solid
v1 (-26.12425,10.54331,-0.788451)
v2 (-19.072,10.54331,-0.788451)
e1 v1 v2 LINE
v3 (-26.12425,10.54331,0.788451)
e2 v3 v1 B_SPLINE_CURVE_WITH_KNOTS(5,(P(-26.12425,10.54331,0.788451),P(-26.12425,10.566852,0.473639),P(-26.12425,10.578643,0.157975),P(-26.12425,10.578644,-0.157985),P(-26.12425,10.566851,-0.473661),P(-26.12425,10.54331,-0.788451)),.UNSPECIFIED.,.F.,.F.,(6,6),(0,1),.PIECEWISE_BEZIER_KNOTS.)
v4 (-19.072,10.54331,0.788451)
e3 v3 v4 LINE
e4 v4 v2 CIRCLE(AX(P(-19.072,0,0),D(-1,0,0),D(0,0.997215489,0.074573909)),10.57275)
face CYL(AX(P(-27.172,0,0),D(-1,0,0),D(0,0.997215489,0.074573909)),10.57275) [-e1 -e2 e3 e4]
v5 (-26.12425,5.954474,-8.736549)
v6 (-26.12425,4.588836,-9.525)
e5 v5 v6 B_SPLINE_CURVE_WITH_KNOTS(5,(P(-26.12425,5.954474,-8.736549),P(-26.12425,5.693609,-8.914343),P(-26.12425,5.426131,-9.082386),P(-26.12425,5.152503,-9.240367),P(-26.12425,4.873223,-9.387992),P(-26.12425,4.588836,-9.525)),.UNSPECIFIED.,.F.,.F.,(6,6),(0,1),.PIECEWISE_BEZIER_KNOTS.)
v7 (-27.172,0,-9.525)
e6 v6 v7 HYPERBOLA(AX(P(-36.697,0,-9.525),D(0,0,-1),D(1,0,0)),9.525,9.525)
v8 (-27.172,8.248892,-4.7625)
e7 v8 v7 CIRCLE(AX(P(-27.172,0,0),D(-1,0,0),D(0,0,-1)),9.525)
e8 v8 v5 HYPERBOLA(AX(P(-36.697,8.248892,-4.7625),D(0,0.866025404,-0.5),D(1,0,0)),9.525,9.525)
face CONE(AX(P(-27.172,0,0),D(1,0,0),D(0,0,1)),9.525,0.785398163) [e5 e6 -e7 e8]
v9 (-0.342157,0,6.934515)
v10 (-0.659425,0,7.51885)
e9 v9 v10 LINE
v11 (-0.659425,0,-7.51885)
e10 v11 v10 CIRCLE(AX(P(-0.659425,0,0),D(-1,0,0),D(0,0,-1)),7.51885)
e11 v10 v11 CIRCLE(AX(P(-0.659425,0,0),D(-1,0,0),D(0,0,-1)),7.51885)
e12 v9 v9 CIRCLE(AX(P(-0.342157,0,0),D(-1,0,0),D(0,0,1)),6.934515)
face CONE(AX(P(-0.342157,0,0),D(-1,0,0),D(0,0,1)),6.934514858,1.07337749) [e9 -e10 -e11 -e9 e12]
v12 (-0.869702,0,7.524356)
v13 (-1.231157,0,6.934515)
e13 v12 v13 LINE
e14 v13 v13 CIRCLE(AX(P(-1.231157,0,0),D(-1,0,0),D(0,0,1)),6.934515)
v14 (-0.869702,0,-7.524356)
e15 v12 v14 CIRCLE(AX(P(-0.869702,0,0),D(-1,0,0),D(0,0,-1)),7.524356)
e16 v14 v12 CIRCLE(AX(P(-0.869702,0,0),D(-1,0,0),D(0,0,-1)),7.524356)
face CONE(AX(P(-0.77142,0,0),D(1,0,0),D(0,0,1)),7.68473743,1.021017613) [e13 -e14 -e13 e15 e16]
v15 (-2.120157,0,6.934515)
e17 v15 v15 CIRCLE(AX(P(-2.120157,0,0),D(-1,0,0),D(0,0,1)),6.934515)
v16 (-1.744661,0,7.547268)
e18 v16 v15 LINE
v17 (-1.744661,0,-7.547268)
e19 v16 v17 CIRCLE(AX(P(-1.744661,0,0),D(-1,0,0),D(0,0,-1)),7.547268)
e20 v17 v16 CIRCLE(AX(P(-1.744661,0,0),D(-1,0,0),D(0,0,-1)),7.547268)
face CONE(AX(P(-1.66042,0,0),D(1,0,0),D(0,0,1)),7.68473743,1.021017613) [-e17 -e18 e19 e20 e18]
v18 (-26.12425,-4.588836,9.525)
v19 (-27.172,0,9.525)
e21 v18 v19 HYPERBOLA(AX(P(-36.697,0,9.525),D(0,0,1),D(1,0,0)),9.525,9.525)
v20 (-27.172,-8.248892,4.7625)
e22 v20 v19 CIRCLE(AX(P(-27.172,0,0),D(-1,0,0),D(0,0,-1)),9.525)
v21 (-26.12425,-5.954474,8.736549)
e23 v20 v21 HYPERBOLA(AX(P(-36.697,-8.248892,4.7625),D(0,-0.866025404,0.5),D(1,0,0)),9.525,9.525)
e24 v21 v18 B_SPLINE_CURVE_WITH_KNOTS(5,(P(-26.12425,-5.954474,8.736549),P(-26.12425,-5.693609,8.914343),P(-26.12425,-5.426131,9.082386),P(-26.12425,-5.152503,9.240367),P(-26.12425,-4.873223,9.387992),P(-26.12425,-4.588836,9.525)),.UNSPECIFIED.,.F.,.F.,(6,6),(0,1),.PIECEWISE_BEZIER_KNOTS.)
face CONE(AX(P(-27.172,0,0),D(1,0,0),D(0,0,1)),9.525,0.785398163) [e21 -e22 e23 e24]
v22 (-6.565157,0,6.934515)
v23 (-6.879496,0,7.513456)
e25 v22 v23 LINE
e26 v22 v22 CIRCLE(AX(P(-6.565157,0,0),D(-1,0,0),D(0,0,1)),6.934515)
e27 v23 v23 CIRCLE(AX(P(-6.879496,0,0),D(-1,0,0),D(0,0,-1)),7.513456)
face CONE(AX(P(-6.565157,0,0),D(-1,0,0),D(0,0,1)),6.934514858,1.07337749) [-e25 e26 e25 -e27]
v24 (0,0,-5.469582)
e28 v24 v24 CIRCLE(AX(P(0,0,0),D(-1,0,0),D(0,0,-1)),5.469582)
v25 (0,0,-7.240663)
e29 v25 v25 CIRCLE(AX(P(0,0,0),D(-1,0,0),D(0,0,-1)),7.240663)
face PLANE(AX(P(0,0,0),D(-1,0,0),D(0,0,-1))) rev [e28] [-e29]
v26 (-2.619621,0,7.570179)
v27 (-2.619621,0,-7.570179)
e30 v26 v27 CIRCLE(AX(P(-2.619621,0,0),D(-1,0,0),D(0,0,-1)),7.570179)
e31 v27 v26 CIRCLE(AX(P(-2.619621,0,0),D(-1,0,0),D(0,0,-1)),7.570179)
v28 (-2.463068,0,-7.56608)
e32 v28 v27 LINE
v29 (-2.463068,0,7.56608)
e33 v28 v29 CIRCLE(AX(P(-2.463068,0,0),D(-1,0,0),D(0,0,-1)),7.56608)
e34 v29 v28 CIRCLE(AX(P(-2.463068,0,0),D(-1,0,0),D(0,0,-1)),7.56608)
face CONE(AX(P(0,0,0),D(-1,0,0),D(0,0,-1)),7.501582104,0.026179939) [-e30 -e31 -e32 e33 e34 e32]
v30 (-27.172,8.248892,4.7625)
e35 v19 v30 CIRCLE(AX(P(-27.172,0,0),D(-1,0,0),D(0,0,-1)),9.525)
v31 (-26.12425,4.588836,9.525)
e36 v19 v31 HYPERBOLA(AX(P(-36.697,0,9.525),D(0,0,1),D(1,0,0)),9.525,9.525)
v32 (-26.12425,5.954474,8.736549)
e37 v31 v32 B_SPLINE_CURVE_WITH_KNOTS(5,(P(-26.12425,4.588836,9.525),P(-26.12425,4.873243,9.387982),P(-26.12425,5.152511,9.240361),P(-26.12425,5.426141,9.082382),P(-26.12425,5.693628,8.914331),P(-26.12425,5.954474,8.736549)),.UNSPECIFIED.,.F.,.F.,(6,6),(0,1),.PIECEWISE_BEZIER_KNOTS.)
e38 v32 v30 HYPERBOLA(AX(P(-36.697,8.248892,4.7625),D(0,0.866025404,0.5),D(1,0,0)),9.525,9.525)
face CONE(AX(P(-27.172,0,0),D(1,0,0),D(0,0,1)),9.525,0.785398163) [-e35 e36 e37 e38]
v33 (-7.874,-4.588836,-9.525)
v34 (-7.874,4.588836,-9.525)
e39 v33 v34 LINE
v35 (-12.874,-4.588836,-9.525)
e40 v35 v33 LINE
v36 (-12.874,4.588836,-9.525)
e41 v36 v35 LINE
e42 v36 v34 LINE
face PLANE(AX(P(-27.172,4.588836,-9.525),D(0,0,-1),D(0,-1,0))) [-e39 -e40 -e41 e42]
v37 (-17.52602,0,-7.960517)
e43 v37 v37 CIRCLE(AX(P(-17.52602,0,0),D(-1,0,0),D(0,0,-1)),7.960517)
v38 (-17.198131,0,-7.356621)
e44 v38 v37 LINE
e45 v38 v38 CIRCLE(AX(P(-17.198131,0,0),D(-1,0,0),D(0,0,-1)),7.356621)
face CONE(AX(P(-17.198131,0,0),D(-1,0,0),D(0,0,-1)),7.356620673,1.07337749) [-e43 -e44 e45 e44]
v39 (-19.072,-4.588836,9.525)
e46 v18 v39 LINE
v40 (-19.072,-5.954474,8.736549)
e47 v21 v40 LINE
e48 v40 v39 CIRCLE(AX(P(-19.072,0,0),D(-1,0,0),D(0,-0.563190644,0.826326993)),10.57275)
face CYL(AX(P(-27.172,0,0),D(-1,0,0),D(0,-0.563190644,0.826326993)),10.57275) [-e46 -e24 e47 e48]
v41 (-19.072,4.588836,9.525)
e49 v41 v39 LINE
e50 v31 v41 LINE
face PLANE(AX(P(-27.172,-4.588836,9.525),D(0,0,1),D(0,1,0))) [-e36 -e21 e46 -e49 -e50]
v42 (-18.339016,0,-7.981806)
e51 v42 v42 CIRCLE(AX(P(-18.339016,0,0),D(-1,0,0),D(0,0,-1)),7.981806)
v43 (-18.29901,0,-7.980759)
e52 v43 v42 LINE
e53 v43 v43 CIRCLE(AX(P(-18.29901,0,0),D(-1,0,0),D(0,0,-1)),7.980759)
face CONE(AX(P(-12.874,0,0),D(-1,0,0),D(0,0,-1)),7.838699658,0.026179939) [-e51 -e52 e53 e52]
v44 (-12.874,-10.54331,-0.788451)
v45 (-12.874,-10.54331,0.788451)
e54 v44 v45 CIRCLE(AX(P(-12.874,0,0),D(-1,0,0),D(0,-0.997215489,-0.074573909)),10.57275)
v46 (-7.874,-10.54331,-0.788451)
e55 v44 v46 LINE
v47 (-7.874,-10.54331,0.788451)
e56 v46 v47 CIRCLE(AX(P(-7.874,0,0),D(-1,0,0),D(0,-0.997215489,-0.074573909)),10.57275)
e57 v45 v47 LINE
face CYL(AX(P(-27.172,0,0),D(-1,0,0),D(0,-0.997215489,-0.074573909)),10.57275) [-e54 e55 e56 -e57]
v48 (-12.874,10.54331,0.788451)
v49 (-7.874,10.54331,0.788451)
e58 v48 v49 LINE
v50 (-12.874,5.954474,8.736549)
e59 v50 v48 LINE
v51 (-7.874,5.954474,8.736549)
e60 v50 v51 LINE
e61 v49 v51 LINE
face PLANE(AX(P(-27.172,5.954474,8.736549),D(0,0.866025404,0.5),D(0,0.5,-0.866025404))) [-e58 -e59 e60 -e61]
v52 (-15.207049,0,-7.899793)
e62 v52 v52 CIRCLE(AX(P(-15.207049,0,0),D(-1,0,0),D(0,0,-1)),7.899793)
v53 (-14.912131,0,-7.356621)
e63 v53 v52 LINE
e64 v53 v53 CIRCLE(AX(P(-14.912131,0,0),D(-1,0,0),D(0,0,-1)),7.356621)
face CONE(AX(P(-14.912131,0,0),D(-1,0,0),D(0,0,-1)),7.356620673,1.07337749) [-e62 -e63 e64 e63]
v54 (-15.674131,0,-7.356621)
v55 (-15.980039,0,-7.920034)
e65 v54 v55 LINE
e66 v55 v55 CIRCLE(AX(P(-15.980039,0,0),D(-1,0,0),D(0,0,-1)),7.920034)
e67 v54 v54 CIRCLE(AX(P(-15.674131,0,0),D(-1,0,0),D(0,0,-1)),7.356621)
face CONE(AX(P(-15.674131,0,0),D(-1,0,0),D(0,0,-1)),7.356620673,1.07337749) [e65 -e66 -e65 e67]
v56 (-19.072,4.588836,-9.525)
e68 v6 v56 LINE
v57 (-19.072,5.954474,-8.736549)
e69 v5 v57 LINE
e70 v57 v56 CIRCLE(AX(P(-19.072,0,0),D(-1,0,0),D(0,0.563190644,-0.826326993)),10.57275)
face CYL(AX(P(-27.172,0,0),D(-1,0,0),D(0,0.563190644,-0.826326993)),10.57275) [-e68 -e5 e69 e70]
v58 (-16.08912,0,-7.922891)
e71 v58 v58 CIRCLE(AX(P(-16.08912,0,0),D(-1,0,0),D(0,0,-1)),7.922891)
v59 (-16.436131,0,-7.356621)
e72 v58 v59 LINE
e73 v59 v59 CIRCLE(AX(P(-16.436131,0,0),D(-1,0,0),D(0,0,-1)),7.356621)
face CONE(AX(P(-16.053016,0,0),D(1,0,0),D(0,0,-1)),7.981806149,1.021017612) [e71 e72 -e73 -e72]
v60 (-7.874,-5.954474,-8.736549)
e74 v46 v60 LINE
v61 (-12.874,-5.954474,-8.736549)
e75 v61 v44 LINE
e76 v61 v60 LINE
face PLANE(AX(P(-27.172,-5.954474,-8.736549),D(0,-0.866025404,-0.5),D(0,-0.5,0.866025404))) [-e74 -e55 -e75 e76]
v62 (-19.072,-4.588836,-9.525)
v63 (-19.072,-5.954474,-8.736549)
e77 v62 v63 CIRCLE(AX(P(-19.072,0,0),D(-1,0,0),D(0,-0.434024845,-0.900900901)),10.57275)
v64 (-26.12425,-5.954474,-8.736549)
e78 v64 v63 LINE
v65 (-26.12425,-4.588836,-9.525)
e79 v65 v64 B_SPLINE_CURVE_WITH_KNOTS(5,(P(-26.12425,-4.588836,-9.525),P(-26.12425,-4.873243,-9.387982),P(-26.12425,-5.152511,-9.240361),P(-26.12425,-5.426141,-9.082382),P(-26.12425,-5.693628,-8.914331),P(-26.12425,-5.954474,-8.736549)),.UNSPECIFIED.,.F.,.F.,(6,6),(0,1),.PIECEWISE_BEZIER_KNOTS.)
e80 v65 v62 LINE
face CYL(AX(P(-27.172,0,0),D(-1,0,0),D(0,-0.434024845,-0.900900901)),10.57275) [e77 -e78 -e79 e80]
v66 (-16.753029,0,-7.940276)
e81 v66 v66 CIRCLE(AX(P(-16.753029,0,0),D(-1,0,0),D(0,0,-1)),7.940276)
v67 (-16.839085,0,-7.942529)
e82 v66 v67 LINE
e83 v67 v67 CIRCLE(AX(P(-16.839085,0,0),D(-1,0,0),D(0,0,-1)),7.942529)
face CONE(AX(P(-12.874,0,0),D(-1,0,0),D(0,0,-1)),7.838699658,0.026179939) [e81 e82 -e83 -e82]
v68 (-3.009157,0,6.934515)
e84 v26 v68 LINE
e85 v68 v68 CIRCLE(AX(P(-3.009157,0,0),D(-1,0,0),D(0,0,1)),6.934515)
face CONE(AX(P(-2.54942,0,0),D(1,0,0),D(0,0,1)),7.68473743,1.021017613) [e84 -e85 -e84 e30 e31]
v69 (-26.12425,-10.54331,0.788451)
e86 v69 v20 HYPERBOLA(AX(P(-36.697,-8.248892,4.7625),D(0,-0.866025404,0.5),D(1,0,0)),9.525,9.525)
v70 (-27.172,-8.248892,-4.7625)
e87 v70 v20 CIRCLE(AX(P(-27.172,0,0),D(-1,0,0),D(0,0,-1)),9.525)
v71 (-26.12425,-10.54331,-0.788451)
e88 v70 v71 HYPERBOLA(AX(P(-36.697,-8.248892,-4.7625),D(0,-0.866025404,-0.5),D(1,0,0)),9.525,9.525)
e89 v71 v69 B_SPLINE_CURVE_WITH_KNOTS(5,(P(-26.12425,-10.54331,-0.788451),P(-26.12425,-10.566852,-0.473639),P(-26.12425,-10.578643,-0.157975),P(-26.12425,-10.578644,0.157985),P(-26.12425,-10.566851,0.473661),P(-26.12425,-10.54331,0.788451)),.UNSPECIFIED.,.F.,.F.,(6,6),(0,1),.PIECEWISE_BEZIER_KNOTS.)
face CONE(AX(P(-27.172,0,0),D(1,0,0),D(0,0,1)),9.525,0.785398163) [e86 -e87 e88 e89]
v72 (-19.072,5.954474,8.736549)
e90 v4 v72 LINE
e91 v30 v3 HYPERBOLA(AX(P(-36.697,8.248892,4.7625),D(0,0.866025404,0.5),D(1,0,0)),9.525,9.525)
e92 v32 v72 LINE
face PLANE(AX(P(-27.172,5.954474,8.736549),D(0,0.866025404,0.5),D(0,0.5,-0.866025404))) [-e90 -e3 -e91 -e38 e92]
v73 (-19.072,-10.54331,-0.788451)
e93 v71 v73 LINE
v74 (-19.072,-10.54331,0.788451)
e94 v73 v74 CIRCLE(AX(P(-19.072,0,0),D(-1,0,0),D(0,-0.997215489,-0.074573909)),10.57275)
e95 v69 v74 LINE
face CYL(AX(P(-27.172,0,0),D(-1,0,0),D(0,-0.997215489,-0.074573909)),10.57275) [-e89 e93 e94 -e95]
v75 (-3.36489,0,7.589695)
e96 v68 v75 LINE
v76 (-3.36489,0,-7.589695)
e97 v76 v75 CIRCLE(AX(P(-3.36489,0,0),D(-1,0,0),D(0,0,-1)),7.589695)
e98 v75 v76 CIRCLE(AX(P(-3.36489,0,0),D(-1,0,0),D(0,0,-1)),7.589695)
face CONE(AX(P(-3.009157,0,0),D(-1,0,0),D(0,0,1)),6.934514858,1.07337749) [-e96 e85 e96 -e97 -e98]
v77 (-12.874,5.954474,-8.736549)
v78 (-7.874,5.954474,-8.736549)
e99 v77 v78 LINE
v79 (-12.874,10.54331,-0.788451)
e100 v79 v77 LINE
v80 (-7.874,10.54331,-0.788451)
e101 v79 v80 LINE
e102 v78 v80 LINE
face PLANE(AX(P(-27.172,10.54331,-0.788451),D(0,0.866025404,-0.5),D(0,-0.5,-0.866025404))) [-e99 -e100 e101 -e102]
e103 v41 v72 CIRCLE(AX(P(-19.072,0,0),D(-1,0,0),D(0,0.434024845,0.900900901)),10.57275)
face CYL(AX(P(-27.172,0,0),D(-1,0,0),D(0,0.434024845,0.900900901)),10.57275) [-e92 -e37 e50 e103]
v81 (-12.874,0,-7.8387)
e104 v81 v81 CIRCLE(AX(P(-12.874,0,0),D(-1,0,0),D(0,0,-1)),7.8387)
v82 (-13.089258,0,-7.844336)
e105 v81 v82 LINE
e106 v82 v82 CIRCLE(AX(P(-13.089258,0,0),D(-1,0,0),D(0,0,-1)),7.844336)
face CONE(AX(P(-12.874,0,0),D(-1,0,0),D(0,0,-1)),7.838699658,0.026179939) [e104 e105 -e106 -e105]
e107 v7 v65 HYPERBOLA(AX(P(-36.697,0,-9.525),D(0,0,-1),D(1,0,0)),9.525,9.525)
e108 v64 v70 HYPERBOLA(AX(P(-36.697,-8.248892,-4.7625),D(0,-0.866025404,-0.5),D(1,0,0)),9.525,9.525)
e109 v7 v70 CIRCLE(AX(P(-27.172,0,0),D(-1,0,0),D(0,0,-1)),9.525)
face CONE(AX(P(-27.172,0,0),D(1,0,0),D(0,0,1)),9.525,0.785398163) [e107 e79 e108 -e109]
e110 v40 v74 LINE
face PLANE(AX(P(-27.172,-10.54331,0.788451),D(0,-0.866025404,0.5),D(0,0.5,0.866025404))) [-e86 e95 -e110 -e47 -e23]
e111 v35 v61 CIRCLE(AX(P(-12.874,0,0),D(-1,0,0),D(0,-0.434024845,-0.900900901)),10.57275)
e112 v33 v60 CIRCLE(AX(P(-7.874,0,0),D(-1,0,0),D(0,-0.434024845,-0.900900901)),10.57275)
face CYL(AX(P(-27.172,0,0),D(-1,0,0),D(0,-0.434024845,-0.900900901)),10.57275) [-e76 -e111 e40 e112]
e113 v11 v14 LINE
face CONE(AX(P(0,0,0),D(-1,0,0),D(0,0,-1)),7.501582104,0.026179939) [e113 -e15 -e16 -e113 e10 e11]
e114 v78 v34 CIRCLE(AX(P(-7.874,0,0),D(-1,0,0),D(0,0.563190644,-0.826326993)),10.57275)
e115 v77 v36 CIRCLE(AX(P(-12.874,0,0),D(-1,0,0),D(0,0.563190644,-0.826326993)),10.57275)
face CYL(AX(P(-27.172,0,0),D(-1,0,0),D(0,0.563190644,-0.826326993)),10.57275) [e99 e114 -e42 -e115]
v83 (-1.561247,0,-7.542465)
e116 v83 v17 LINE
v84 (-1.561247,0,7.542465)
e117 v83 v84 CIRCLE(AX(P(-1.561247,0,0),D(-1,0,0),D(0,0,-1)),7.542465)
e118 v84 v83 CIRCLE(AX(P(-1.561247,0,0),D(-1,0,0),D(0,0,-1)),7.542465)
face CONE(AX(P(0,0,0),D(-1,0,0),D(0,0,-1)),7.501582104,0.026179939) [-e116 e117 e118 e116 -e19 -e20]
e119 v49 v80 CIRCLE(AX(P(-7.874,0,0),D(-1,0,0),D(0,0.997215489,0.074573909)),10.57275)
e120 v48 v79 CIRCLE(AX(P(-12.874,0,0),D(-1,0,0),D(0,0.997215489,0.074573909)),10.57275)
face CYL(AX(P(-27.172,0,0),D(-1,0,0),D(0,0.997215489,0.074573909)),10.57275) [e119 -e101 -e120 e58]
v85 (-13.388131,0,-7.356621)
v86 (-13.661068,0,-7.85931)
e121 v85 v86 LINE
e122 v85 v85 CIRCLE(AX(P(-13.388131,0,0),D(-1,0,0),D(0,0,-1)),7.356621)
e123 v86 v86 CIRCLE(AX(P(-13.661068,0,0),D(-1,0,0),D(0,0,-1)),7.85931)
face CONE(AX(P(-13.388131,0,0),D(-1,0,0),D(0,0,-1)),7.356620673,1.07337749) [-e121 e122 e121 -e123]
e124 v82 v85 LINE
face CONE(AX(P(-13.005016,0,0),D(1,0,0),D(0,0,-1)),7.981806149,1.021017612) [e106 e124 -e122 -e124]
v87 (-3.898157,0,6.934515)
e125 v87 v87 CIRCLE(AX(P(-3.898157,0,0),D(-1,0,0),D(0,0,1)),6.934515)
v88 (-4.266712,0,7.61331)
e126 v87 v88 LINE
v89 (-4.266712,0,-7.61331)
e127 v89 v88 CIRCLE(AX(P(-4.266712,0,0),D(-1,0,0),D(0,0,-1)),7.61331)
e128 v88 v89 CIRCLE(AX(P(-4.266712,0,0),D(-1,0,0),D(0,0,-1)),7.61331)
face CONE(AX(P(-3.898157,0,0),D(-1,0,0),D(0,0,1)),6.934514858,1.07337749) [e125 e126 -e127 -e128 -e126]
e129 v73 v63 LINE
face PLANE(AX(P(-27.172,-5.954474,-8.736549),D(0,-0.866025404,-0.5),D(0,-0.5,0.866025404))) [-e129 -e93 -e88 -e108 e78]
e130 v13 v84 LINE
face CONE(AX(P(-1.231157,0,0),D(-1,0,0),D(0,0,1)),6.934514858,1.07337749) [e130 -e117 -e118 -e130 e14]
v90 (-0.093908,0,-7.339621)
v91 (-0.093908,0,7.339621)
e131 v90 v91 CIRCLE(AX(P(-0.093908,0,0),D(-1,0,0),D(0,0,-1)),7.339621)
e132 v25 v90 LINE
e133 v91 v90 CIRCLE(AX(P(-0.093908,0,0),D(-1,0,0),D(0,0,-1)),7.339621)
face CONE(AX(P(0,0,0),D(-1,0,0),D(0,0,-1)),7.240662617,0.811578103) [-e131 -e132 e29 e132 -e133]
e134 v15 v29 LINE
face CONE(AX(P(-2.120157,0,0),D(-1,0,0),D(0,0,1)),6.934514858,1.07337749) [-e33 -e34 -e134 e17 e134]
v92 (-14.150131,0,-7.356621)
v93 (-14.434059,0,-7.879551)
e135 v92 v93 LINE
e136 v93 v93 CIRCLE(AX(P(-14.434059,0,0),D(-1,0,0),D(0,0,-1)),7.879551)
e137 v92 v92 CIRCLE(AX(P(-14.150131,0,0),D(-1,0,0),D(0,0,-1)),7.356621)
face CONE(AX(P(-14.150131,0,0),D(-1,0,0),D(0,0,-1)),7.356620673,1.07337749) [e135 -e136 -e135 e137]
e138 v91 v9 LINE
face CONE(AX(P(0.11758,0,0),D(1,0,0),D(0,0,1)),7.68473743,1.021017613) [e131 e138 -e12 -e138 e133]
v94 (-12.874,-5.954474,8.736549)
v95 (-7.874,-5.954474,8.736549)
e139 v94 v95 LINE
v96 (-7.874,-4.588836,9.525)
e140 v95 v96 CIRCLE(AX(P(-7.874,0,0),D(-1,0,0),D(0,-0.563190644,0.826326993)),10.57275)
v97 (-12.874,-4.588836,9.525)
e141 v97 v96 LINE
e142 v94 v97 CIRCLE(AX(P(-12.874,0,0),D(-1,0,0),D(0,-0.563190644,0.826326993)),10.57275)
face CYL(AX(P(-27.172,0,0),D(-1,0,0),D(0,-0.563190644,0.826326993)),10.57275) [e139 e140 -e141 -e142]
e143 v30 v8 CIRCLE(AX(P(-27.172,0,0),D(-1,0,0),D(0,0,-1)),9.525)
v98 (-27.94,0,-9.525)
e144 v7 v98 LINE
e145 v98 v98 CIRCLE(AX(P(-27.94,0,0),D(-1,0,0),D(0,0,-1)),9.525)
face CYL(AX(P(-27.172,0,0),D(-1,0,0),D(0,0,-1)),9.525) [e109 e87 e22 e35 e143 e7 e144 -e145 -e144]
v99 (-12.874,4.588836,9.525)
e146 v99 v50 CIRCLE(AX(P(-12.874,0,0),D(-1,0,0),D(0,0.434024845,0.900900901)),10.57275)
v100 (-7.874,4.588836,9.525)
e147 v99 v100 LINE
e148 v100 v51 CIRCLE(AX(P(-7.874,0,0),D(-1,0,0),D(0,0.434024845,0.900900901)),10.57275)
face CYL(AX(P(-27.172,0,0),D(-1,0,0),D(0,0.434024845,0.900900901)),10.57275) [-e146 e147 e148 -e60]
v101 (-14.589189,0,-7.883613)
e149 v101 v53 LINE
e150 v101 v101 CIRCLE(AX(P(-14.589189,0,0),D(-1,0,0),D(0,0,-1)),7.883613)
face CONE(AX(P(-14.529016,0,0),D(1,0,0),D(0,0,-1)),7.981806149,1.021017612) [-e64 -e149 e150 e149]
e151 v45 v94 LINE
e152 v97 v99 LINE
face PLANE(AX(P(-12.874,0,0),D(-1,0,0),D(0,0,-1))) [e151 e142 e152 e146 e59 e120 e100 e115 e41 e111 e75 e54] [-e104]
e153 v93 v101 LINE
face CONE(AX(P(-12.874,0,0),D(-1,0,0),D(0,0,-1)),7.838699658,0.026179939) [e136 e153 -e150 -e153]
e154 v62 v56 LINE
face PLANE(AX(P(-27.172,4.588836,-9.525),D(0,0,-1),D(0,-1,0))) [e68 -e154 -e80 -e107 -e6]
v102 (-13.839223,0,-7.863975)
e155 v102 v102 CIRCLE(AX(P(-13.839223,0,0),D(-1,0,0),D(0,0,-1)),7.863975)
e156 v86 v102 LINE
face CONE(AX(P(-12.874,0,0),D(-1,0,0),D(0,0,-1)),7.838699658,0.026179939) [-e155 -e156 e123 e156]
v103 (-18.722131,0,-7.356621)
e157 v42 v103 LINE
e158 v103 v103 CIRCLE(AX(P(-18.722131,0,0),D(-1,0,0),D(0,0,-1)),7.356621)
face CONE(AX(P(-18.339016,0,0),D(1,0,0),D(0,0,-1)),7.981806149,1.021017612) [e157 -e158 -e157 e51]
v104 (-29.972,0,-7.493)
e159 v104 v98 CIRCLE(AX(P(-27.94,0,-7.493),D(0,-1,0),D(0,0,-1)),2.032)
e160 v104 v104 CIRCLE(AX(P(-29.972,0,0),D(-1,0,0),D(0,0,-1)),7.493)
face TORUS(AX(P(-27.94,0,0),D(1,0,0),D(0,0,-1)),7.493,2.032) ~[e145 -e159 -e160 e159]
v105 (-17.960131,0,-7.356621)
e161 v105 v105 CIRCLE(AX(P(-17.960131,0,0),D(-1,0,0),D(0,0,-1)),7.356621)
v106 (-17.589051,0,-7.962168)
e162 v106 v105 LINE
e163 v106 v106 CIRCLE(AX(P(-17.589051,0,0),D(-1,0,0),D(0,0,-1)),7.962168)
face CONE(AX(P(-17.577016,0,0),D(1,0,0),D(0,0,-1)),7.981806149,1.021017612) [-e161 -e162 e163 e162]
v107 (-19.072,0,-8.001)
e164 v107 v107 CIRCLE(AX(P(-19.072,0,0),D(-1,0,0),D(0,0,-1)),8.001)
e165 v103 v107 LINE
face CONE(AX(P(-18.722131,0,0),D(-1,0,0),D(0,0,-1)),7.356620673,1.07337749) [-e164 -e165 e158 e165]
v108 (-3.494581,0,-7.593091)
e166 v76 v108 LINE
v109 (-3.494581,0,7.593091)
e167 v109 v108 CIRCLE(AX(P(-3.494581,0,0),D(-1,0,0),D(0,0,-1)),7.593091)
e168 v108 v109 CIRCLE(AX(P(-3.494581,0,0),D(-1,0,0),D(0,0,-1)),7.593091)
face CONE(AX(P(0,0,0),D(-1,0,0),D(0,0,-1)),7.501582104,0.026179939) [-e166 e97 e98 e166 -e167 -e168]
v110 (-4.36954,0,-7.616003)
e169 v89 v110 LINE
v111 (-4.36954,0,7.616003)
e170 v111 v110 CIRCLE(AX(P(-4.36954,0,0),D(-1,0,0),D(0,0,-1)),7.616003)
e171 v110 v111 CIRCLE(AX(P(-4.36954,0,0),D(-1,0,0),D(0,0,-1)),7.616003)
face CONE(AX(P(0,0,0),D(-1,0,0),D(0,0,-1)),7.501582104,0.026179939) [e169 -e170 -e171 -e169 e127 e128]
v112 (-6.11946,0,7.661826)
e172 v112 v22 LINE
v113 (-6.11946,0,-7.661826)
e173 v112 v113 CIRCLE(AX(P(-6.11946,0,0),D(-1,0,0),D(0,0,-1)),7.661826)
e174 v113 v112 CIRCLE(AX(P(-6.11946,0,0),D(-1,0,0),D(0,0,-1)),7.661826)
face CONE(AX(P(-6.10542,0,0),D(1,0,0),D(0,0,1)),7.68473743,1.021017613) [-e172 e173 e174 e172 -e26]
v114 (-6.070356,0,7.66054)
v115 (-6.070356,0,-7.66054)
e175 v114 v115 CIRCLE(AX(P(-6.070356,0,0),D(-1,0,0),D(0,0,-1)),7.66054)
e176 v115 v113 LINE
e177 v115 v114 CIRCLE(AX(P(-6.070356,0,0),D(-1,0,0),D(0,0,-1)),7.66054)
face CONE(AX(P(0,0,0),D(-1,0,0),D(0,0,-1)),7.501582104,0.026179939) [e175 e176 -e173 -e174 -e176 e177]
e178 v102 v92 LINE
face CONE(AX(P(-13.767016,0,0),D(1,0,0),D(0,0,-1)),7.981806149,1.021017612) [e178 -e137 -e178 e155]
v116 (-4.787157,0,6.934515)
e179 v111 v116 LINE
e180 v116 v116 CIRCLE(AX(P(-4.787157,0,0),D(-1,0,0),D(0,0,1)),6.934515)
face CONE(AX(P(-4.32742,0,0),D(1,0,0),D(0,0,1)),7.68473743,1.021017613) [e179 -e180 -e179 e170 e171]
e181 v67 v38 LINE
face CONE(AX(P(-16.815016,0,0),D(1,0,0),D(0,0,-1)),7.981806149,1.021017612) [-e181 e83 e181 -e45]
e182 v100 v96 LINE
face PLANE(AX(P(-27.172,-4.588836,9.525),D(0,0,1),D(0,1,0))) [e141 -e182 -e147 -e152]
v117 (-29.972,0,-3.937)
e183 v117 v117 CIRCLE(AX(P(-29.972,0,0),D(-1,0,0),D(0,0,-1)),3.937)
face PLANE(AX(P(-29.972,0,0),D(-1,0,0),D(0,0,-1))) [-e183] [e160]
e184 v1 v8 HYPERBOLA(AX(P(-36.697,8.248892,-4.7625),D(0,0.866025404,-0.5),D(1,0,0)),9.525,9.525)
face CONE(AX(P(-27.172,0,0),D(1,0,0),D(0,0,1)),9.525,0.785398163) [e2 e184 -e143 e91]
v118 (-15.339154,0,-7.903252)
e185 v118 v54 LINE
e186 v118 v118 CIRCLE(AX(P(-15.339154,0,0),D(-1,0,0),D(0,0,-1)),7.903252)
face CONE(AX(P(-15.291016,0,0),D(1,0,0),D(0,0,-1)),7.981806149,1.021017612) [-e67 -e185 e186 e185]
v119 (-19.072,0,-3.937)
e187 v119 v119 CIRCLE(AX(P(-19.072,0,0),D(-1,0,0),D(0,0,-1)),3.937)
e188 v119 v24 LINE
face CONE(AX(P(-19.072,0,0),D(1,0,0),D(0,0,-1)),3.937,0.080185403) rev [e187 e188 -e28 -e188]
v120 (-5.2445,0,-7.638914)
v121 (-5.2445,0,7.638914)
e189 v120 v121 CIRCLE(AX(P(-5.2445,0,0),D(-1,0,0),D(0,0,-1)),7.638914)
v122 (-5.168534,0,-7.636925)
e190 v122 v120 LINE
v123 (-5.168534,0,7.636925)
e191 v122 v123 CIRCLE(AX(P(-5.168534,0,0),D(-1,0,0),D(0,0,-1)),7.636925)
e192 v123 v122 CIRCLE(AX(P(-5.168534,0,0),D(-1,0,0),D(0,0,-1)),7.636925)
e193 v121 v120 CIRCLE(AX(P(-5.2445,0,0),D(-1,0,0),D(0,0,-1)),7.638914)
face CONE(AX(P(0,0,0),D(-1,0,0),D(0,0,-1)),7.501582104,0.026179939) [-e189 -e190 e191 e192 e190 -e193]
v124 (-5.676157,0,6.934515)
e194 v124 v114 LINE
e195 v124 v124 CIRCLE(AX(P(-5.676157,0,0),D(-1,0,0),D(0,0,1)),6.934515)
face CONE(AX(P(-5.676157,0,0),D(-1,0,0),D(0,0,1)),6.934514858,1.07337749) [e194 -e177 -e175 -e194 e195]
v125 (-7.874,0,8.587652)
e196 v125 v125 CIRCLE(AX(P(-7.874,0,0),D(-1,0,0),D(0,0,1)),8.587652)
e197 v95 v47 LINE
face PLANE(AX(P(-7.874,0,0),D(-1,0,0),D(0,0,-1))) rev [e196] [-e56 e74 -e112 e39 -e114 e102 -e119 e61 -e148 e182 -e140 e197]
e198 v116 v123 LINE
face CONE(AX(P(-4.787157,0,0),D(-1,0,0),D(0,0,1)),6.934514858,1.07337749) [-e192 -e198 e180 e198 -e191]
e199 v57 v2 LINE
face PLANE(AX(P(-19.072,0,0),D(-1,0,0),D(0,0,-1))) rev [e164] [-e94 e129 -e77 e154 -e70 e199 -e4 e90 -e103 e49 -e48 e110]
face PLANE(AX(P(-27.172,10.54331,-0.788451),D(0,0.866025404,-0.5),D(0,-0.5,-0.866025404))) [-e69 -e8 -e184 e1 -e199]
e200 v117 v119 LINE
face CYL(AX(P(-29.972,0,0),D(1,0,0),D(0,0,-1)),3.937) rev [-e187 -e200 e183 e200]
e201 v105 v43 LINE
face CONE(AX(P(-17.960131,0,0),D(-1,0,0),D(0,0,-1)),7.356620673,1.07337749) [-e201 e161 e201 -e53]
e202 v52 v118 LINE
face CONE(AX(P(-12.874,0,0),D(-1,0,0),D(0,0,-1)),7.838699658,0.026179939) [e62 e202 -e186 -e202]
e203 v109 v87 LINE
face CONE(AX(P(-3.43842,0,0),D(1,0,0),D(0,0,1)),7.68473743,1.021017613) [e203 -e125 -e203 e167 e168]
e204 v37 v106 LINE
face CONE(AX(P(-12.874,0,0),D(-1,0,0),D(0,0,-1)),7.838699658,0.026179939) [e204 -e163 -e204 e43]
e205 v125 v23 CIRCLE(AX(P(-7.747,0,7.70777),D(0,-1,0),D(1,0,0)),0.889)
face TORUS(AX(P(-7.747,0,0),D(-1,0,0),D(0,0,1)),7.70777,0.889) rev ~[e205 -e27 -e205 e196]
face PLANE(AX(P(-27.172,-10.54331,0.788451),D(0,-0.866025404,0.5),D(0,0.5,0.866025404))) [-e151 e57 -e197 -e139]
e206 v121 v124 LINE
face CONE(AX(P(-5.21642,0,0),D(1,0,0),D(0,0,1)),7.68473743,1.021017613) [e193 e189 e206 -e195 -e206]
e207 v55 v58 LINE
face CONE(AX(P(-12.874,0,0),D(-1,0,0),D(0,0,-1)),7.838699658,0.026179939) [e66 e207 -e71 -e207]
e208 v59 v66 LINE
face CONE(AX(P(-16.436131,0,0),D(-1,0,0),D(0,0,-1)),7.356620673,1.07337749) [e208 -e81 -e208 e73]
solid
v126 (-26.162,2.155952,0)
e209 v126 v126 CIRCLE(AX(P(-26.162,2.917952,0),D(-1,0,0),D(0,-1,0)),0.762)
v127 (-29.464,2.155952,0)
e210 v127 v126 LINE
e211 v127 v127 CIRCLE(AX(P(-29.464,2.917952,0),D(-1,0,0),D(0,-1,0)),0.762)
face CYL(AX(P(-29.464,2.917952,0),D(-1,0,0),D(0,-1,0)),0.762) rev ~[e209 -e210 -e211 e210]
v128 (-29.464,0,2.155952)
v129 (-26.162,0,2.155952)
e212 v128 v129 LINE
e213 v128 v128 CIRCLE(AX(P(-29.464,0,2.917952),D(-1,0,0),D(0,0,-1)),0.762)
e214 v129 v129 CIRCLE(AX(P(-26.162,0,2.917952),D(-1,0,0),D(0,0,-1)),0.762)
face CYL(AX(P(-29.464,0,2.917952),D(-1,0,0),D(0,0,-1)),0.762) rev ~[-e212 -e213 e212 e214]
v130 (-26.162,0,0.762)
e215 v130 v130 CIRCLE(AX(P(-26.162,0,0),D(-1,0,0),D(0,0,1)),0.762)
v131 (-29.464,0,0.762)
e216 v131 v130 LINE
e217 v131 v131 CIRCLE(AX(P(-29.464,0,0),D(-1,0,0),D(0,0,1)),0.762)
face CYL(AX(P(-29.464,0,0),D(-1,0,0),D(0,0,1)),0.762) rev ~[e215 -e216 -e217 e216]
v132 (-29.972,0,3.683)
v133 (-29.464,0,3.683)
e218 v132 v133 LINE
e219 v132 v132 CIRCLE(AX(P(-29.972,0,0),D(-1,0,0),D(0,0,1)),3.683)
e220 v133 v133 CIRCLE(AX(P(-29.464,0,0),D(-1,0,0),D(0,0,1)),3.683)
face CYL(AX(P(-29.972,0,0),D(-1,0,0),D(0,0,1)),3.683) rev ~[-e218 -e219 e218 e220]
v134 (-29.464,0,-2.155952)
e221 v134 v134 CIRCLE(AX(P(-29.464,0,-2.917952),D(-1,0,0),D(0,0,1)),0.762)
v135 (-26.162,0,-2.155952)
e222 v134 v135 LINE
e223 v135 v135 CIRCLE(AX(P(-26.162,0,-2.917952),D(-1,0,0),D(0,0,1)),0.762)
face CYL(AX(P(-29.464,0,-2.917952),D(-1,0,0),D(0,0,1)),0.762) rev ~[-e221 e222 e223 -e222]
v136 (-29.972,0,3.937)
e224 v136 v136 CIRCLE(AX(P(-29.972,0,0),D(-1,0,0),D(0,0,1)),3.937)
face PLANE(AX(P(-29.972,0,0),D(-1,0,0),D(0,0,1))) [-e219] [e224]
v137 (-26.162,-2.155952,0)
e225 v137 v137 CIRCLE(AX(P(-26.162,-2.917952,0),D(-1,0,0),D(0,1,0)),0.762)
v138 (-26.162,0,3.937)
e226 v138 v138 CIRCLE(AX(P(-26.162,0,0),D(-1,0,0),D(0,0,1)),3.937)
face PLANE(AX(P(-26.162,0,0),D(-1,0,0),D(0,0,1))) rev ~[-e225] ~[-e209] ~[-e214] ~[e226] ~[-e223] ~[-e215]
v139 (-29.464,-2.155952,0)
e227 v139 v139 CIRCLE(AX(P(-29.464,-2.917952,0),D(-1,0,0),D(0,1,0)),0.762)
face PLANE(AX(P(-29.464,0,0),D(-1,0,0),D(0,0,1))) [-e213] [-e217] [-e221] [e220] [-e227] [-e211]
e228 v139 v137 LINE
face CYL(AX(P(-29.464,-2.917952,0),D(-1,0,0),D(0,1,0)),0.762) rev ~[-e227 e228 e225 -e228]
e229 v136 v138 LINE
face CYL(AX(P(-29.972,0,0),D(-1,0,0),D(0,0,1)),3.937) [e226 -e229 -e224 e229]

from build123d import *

# Parameters (mm, degrees)
SKETCH12_OUTSIDE_W = 52.432
SKETCH12_OUTSIDE_H = 52.432
CUT_EXTRUDE2_DEPTH = 28.172
FILLET4_R          = 2.032
SKETCH19_OUTSIDE_W = 33.316
SKETCH19_OUTSIDE_H = 35.412
SKETCH19_OUTSIDE_R = 9.525
CUT_EXTRUDE3_DEPTH = 1.999996
CUT_EXTRUDE3_DRAFT = -45
CHAMFER1_SIZE      = 0.260919487
CHAMFER1_SIZE2     = 0.254
SKETCH21_R         = 3.937
PLUG_DEPTH         = 3.81
SKETCH22_R         = 3.683
CUT_EXTRUDE4_DEPTH = 0.508
SKETCH27_R         = 0.762
PLUGHOLES_DEPTH    = 30.464
CIRPATTERN1_COUNT  = 4
SKETCH28_R         = 0.762
MIDHOLE_DEPTH      = 30.464
LPATTERN1_COUNT    = 8
LPATTERN1_PITCH    = 0.762
LPATTERN2_COUNT    = 9
LPATTERN2_PITCH    = 0.889
SKETCH32_R         = 0.889


with BuildPart() as part:
    # Sketch10 → Revolve2 (revolve)
    with BuildSketch(Plane.XY, mode=Mode.PRIVATE) as revolve2_sk:
        Polygon((-29.972, 3.937), (-19.072, 3.937), (0, 5.469582104), (0, 7.501582104), (-7.874, 7.70777005), (-7.874, 19.05), (-12.874, 19.05), (-12.874, 7.838699658), (-19.072, 8.001), (-19.072, 19.05), (-27.172, 19.05), (-27.172, 9.525), (-29.972, 9.525), align=None)
    revolve(revolve2_sk.sketch.rotate(Axis((0, 0, 0), (-1, 0, 0)), 90), axis=Axis((0, 0, 0), (-1, 0, 0)))  # turned: the seam where the file's is

    # Sketch12 outside → Cut-Extrude2 (cut, through all)
    with BuildSketch(Plane.ZY.offset(27.172)):
        Rectangle(SKETCH12_OUTSIDE_W, SKETCH12_OUTSIDE_H)
        with BuildLine():
            Line((-0.788451287, 10.543310065), (-8.736548713, 5.954473877))
            ThreePointArc((-8.736548713, 5.954473877), (-9.156270088, 5.286375), (-9.525, 4.588836188))
            Line((-9.525, 4.588836188), (-9.525, -4.588836188))
            ThreePointArc((-9.525, -4.588836188), (-9.156270088, -5.286375), (-8.736548713, -5.954473877))
            Line((-8.736548713, -5.954473877), (-0.788451287, -10.543310065))
            ThreePointArc((-0.788451287, -10.543310065), (0, -10.57275), (0.788451287, -10.543310065))
            Line((0.788451287, -10.543310065), (8.736548713, -5.954473877))
            ThreePointArc((8.736548713, -5.954473877), (9.156270088, -5.286375), (9.525, -4.588836188))
            Line((9.525, -4.588836188), (9.525, 4.588836188))
            ThreePointArc((9.525, 4.588836188), (9.156270088, 5.286375), (8.736548713, 5.954473877))
            Line((8.736548713, 5.954473877), (0.788451287, 10.543310065))
            ThreePointArc((0.788451287, 10.543310065), (0, 10.57275), (-0.788451287, 10.543310065))
        make_face(mode=Mode.SUBTRACT)
    extrude(amount=-CUT_EXTRUDE2_DEPTH, mode=Mode.SUBTRACT)

    # Fillet4
    fillet4_edges = [part.edges().sort_by_distance(p)[0] for p in [
        (-29.972, 0, 9.525),
    ]]
    fillet(fillet4_edges, radius=FILLET4_R)


with BuildPart() as cut_extrude3_tool:
    # Sketch19 outside → Cut-Extrude3 (with draft: the straight prism first)
    with BuildSketch(Plane.ZY.offset(27.172)):
        Rectangle(SKETCH19_OUTSIDE_W, SKETCH19_OUTSIDE_H)
        Circle(SKETCH19_OUTSIDE_R, mode=Mode.SUBTRACT)
    extrude(amount=-CUT_EXTRUDE3_DEPTH)
    # Cut-Extrude3: the draft: its side faces are tilted about the plane it starts from
    cut_extrude3_sides = [cut_extrude3_tool.faces().sort_by_distance(p)[0] for p in [
        (-26.172002, -17.706, 0),
        (-26.172002, 0, 16.658),
        (-26.172002, 17.706, 0),
        (-26.172002, 0, -16.658),
        (-26.172002, 0, -9.525),
    ]]
    draft(cut_extrude3_sides, Plane.ZY.offset(27.172), CUT_EXTRUDE3_DRAFT)


with BuildPart() as part_1:
    add(part.part)

    # Cut-Extrude3: cut by cut_extrude3_tool
    add(cut_extrude3_tool.part, mode=Mode.SUBTRACT)

    # Chamfer1
    chamfer1_edges = [part_1.edges().sort_by_distance(p)[0] for p in [
        (0, 0, 7.501582104),
    ]]
    chamfer1_side = [part_1.faces().sort_by_distance(p)[0] for p in [
        (0, 0, 5.681758887),
    ]]
    chamfer(chamfer1_edges, length=CHAMFER1_SIZE, length2=CHAMFER1_SIZE2, reference=chamfer1_side[0])

    # Sketch29 → Cut-Revolve1 (revolve, cut)
    with BuildSketch(Plane.XY, mode=Mode.PRIVATE) as cut_revolve1_sk:
        Polygon((-19.072, 8.001), (-18.339016419, 7.981806149), (-18.722130572, 7.356620673), align=None)
    cut_revolve1 = revolve(cut_revolve1_sk.sketch.rotate(Axis((0, 0, 0), (-1, 0, 0)), 90), axis=Axis((0, 0, 0), (-1, 0, 0)), mode=Mode.SUBTRACT)  # turned: the seam where the file's is

    # LPattern1: Cut-Revolve1 ×8
    with Locations(*[(i * LPATTERN1_PITCH, 0, 0) for i in range(1, LPATTERN1_COUNT)]):
        add(cut_revolve1, mode=Mode.SUBTRACT)

    # Sketch30 → Cut-Revolve2 (revolve, cut)
    with BuildSketch(Plane.XY, mode=Mode.PRIVATE) as cut_revolve2_sk:
        Polygon((-7.874, 7.70777005), (-6.994419703, 7.68473743), (-7.454156686, 6.934514858), align=None)
    cut_revolve2 = revolve(cut_revolve2_sk.sketch.rotate(Axis((0, 0, 0), (-1, 0, 0)), 270), axis=Axis((0, 0, 0), (-1, 0, 0)), mode=Mode.SUBTRACT)  # turned: the seam where the file's is

    # LPattern2: Cut-Revolve2 ×9
    with Locations(*[(i * LPATTERN2_PITCH, 0, 0) for i in range(1, LPATTERN2_COUNT)]):
        add(cut_revolve2, mode=Mode.SUBTRACT)

    # Sketch32 → Cut-Revolve3 (revolve, cut)
    with BuildSketch(Plane.XY, mode=Mode.PRIVATE) as cut_revolve3_sk:
        with Locations((-7.747, 7.70777005)):
            Circle(SKETCH32_R)
    revolve(cut_revolve3_sk.sketch.rotate(Axis((0, 0, 0), (-1, 0, 0)), 270), axis=Axis((0, 0, 0), (-1, 0, 0)), mode=Mode.SUBTRACT)  # turned: the seam where the file's is


with BuildPart() as body_2:
    # Sketch21 → plug (new body)
    with BuildSketch(Plane.ZY.offset(29.972)):
        Circle(SKETCH21_R)
    extrude(amount=-PLUG_DEPTH)

    # Sketch22 → Cut-Extrude4 (cut)
    with BuildSketch(Plane.ZY.offset(29.972)):
        Circle(SKETCH22_R)
    extrude(amount=-CUT_EXTRUDE4_DEPTH, mode=Mode.SUBTRACT)

    # Sketch27 → plugholes (cut, through all)
    with BuildSketch(Plane.ZY.offset(29.464)):
        with Locations((-2.917952, 0)):
            Circle(SKETCH27_R)
    plugholes = extrude(amount=-PLUGHOLES_DEPTH, mode=Mode.SUBTRACT)

    # CirPattern1: plugholes ×4 about axis
    cirpattern1_axis = Axis((0, 0, 0), (1, 0, 0))
    for i in range(1, CIRPATTERN1_COUNT):
        add(plugholes.rotate(cirpattern1_axis, i * 360 / CIRPATTERN1_COUNT), mode=Mode.SUBTRACT)

    # Sketch28 → midhole (cut, through all)
    with BuildSketch(Plane.ZY.offset(29.464)):
        Circle(SKETCH28_R)
    extrude(amount=-MIDHOLE_DEPTH, mode=Mode.SUBTRACT)


solid = Compound([part_1.part, body_2.part])
